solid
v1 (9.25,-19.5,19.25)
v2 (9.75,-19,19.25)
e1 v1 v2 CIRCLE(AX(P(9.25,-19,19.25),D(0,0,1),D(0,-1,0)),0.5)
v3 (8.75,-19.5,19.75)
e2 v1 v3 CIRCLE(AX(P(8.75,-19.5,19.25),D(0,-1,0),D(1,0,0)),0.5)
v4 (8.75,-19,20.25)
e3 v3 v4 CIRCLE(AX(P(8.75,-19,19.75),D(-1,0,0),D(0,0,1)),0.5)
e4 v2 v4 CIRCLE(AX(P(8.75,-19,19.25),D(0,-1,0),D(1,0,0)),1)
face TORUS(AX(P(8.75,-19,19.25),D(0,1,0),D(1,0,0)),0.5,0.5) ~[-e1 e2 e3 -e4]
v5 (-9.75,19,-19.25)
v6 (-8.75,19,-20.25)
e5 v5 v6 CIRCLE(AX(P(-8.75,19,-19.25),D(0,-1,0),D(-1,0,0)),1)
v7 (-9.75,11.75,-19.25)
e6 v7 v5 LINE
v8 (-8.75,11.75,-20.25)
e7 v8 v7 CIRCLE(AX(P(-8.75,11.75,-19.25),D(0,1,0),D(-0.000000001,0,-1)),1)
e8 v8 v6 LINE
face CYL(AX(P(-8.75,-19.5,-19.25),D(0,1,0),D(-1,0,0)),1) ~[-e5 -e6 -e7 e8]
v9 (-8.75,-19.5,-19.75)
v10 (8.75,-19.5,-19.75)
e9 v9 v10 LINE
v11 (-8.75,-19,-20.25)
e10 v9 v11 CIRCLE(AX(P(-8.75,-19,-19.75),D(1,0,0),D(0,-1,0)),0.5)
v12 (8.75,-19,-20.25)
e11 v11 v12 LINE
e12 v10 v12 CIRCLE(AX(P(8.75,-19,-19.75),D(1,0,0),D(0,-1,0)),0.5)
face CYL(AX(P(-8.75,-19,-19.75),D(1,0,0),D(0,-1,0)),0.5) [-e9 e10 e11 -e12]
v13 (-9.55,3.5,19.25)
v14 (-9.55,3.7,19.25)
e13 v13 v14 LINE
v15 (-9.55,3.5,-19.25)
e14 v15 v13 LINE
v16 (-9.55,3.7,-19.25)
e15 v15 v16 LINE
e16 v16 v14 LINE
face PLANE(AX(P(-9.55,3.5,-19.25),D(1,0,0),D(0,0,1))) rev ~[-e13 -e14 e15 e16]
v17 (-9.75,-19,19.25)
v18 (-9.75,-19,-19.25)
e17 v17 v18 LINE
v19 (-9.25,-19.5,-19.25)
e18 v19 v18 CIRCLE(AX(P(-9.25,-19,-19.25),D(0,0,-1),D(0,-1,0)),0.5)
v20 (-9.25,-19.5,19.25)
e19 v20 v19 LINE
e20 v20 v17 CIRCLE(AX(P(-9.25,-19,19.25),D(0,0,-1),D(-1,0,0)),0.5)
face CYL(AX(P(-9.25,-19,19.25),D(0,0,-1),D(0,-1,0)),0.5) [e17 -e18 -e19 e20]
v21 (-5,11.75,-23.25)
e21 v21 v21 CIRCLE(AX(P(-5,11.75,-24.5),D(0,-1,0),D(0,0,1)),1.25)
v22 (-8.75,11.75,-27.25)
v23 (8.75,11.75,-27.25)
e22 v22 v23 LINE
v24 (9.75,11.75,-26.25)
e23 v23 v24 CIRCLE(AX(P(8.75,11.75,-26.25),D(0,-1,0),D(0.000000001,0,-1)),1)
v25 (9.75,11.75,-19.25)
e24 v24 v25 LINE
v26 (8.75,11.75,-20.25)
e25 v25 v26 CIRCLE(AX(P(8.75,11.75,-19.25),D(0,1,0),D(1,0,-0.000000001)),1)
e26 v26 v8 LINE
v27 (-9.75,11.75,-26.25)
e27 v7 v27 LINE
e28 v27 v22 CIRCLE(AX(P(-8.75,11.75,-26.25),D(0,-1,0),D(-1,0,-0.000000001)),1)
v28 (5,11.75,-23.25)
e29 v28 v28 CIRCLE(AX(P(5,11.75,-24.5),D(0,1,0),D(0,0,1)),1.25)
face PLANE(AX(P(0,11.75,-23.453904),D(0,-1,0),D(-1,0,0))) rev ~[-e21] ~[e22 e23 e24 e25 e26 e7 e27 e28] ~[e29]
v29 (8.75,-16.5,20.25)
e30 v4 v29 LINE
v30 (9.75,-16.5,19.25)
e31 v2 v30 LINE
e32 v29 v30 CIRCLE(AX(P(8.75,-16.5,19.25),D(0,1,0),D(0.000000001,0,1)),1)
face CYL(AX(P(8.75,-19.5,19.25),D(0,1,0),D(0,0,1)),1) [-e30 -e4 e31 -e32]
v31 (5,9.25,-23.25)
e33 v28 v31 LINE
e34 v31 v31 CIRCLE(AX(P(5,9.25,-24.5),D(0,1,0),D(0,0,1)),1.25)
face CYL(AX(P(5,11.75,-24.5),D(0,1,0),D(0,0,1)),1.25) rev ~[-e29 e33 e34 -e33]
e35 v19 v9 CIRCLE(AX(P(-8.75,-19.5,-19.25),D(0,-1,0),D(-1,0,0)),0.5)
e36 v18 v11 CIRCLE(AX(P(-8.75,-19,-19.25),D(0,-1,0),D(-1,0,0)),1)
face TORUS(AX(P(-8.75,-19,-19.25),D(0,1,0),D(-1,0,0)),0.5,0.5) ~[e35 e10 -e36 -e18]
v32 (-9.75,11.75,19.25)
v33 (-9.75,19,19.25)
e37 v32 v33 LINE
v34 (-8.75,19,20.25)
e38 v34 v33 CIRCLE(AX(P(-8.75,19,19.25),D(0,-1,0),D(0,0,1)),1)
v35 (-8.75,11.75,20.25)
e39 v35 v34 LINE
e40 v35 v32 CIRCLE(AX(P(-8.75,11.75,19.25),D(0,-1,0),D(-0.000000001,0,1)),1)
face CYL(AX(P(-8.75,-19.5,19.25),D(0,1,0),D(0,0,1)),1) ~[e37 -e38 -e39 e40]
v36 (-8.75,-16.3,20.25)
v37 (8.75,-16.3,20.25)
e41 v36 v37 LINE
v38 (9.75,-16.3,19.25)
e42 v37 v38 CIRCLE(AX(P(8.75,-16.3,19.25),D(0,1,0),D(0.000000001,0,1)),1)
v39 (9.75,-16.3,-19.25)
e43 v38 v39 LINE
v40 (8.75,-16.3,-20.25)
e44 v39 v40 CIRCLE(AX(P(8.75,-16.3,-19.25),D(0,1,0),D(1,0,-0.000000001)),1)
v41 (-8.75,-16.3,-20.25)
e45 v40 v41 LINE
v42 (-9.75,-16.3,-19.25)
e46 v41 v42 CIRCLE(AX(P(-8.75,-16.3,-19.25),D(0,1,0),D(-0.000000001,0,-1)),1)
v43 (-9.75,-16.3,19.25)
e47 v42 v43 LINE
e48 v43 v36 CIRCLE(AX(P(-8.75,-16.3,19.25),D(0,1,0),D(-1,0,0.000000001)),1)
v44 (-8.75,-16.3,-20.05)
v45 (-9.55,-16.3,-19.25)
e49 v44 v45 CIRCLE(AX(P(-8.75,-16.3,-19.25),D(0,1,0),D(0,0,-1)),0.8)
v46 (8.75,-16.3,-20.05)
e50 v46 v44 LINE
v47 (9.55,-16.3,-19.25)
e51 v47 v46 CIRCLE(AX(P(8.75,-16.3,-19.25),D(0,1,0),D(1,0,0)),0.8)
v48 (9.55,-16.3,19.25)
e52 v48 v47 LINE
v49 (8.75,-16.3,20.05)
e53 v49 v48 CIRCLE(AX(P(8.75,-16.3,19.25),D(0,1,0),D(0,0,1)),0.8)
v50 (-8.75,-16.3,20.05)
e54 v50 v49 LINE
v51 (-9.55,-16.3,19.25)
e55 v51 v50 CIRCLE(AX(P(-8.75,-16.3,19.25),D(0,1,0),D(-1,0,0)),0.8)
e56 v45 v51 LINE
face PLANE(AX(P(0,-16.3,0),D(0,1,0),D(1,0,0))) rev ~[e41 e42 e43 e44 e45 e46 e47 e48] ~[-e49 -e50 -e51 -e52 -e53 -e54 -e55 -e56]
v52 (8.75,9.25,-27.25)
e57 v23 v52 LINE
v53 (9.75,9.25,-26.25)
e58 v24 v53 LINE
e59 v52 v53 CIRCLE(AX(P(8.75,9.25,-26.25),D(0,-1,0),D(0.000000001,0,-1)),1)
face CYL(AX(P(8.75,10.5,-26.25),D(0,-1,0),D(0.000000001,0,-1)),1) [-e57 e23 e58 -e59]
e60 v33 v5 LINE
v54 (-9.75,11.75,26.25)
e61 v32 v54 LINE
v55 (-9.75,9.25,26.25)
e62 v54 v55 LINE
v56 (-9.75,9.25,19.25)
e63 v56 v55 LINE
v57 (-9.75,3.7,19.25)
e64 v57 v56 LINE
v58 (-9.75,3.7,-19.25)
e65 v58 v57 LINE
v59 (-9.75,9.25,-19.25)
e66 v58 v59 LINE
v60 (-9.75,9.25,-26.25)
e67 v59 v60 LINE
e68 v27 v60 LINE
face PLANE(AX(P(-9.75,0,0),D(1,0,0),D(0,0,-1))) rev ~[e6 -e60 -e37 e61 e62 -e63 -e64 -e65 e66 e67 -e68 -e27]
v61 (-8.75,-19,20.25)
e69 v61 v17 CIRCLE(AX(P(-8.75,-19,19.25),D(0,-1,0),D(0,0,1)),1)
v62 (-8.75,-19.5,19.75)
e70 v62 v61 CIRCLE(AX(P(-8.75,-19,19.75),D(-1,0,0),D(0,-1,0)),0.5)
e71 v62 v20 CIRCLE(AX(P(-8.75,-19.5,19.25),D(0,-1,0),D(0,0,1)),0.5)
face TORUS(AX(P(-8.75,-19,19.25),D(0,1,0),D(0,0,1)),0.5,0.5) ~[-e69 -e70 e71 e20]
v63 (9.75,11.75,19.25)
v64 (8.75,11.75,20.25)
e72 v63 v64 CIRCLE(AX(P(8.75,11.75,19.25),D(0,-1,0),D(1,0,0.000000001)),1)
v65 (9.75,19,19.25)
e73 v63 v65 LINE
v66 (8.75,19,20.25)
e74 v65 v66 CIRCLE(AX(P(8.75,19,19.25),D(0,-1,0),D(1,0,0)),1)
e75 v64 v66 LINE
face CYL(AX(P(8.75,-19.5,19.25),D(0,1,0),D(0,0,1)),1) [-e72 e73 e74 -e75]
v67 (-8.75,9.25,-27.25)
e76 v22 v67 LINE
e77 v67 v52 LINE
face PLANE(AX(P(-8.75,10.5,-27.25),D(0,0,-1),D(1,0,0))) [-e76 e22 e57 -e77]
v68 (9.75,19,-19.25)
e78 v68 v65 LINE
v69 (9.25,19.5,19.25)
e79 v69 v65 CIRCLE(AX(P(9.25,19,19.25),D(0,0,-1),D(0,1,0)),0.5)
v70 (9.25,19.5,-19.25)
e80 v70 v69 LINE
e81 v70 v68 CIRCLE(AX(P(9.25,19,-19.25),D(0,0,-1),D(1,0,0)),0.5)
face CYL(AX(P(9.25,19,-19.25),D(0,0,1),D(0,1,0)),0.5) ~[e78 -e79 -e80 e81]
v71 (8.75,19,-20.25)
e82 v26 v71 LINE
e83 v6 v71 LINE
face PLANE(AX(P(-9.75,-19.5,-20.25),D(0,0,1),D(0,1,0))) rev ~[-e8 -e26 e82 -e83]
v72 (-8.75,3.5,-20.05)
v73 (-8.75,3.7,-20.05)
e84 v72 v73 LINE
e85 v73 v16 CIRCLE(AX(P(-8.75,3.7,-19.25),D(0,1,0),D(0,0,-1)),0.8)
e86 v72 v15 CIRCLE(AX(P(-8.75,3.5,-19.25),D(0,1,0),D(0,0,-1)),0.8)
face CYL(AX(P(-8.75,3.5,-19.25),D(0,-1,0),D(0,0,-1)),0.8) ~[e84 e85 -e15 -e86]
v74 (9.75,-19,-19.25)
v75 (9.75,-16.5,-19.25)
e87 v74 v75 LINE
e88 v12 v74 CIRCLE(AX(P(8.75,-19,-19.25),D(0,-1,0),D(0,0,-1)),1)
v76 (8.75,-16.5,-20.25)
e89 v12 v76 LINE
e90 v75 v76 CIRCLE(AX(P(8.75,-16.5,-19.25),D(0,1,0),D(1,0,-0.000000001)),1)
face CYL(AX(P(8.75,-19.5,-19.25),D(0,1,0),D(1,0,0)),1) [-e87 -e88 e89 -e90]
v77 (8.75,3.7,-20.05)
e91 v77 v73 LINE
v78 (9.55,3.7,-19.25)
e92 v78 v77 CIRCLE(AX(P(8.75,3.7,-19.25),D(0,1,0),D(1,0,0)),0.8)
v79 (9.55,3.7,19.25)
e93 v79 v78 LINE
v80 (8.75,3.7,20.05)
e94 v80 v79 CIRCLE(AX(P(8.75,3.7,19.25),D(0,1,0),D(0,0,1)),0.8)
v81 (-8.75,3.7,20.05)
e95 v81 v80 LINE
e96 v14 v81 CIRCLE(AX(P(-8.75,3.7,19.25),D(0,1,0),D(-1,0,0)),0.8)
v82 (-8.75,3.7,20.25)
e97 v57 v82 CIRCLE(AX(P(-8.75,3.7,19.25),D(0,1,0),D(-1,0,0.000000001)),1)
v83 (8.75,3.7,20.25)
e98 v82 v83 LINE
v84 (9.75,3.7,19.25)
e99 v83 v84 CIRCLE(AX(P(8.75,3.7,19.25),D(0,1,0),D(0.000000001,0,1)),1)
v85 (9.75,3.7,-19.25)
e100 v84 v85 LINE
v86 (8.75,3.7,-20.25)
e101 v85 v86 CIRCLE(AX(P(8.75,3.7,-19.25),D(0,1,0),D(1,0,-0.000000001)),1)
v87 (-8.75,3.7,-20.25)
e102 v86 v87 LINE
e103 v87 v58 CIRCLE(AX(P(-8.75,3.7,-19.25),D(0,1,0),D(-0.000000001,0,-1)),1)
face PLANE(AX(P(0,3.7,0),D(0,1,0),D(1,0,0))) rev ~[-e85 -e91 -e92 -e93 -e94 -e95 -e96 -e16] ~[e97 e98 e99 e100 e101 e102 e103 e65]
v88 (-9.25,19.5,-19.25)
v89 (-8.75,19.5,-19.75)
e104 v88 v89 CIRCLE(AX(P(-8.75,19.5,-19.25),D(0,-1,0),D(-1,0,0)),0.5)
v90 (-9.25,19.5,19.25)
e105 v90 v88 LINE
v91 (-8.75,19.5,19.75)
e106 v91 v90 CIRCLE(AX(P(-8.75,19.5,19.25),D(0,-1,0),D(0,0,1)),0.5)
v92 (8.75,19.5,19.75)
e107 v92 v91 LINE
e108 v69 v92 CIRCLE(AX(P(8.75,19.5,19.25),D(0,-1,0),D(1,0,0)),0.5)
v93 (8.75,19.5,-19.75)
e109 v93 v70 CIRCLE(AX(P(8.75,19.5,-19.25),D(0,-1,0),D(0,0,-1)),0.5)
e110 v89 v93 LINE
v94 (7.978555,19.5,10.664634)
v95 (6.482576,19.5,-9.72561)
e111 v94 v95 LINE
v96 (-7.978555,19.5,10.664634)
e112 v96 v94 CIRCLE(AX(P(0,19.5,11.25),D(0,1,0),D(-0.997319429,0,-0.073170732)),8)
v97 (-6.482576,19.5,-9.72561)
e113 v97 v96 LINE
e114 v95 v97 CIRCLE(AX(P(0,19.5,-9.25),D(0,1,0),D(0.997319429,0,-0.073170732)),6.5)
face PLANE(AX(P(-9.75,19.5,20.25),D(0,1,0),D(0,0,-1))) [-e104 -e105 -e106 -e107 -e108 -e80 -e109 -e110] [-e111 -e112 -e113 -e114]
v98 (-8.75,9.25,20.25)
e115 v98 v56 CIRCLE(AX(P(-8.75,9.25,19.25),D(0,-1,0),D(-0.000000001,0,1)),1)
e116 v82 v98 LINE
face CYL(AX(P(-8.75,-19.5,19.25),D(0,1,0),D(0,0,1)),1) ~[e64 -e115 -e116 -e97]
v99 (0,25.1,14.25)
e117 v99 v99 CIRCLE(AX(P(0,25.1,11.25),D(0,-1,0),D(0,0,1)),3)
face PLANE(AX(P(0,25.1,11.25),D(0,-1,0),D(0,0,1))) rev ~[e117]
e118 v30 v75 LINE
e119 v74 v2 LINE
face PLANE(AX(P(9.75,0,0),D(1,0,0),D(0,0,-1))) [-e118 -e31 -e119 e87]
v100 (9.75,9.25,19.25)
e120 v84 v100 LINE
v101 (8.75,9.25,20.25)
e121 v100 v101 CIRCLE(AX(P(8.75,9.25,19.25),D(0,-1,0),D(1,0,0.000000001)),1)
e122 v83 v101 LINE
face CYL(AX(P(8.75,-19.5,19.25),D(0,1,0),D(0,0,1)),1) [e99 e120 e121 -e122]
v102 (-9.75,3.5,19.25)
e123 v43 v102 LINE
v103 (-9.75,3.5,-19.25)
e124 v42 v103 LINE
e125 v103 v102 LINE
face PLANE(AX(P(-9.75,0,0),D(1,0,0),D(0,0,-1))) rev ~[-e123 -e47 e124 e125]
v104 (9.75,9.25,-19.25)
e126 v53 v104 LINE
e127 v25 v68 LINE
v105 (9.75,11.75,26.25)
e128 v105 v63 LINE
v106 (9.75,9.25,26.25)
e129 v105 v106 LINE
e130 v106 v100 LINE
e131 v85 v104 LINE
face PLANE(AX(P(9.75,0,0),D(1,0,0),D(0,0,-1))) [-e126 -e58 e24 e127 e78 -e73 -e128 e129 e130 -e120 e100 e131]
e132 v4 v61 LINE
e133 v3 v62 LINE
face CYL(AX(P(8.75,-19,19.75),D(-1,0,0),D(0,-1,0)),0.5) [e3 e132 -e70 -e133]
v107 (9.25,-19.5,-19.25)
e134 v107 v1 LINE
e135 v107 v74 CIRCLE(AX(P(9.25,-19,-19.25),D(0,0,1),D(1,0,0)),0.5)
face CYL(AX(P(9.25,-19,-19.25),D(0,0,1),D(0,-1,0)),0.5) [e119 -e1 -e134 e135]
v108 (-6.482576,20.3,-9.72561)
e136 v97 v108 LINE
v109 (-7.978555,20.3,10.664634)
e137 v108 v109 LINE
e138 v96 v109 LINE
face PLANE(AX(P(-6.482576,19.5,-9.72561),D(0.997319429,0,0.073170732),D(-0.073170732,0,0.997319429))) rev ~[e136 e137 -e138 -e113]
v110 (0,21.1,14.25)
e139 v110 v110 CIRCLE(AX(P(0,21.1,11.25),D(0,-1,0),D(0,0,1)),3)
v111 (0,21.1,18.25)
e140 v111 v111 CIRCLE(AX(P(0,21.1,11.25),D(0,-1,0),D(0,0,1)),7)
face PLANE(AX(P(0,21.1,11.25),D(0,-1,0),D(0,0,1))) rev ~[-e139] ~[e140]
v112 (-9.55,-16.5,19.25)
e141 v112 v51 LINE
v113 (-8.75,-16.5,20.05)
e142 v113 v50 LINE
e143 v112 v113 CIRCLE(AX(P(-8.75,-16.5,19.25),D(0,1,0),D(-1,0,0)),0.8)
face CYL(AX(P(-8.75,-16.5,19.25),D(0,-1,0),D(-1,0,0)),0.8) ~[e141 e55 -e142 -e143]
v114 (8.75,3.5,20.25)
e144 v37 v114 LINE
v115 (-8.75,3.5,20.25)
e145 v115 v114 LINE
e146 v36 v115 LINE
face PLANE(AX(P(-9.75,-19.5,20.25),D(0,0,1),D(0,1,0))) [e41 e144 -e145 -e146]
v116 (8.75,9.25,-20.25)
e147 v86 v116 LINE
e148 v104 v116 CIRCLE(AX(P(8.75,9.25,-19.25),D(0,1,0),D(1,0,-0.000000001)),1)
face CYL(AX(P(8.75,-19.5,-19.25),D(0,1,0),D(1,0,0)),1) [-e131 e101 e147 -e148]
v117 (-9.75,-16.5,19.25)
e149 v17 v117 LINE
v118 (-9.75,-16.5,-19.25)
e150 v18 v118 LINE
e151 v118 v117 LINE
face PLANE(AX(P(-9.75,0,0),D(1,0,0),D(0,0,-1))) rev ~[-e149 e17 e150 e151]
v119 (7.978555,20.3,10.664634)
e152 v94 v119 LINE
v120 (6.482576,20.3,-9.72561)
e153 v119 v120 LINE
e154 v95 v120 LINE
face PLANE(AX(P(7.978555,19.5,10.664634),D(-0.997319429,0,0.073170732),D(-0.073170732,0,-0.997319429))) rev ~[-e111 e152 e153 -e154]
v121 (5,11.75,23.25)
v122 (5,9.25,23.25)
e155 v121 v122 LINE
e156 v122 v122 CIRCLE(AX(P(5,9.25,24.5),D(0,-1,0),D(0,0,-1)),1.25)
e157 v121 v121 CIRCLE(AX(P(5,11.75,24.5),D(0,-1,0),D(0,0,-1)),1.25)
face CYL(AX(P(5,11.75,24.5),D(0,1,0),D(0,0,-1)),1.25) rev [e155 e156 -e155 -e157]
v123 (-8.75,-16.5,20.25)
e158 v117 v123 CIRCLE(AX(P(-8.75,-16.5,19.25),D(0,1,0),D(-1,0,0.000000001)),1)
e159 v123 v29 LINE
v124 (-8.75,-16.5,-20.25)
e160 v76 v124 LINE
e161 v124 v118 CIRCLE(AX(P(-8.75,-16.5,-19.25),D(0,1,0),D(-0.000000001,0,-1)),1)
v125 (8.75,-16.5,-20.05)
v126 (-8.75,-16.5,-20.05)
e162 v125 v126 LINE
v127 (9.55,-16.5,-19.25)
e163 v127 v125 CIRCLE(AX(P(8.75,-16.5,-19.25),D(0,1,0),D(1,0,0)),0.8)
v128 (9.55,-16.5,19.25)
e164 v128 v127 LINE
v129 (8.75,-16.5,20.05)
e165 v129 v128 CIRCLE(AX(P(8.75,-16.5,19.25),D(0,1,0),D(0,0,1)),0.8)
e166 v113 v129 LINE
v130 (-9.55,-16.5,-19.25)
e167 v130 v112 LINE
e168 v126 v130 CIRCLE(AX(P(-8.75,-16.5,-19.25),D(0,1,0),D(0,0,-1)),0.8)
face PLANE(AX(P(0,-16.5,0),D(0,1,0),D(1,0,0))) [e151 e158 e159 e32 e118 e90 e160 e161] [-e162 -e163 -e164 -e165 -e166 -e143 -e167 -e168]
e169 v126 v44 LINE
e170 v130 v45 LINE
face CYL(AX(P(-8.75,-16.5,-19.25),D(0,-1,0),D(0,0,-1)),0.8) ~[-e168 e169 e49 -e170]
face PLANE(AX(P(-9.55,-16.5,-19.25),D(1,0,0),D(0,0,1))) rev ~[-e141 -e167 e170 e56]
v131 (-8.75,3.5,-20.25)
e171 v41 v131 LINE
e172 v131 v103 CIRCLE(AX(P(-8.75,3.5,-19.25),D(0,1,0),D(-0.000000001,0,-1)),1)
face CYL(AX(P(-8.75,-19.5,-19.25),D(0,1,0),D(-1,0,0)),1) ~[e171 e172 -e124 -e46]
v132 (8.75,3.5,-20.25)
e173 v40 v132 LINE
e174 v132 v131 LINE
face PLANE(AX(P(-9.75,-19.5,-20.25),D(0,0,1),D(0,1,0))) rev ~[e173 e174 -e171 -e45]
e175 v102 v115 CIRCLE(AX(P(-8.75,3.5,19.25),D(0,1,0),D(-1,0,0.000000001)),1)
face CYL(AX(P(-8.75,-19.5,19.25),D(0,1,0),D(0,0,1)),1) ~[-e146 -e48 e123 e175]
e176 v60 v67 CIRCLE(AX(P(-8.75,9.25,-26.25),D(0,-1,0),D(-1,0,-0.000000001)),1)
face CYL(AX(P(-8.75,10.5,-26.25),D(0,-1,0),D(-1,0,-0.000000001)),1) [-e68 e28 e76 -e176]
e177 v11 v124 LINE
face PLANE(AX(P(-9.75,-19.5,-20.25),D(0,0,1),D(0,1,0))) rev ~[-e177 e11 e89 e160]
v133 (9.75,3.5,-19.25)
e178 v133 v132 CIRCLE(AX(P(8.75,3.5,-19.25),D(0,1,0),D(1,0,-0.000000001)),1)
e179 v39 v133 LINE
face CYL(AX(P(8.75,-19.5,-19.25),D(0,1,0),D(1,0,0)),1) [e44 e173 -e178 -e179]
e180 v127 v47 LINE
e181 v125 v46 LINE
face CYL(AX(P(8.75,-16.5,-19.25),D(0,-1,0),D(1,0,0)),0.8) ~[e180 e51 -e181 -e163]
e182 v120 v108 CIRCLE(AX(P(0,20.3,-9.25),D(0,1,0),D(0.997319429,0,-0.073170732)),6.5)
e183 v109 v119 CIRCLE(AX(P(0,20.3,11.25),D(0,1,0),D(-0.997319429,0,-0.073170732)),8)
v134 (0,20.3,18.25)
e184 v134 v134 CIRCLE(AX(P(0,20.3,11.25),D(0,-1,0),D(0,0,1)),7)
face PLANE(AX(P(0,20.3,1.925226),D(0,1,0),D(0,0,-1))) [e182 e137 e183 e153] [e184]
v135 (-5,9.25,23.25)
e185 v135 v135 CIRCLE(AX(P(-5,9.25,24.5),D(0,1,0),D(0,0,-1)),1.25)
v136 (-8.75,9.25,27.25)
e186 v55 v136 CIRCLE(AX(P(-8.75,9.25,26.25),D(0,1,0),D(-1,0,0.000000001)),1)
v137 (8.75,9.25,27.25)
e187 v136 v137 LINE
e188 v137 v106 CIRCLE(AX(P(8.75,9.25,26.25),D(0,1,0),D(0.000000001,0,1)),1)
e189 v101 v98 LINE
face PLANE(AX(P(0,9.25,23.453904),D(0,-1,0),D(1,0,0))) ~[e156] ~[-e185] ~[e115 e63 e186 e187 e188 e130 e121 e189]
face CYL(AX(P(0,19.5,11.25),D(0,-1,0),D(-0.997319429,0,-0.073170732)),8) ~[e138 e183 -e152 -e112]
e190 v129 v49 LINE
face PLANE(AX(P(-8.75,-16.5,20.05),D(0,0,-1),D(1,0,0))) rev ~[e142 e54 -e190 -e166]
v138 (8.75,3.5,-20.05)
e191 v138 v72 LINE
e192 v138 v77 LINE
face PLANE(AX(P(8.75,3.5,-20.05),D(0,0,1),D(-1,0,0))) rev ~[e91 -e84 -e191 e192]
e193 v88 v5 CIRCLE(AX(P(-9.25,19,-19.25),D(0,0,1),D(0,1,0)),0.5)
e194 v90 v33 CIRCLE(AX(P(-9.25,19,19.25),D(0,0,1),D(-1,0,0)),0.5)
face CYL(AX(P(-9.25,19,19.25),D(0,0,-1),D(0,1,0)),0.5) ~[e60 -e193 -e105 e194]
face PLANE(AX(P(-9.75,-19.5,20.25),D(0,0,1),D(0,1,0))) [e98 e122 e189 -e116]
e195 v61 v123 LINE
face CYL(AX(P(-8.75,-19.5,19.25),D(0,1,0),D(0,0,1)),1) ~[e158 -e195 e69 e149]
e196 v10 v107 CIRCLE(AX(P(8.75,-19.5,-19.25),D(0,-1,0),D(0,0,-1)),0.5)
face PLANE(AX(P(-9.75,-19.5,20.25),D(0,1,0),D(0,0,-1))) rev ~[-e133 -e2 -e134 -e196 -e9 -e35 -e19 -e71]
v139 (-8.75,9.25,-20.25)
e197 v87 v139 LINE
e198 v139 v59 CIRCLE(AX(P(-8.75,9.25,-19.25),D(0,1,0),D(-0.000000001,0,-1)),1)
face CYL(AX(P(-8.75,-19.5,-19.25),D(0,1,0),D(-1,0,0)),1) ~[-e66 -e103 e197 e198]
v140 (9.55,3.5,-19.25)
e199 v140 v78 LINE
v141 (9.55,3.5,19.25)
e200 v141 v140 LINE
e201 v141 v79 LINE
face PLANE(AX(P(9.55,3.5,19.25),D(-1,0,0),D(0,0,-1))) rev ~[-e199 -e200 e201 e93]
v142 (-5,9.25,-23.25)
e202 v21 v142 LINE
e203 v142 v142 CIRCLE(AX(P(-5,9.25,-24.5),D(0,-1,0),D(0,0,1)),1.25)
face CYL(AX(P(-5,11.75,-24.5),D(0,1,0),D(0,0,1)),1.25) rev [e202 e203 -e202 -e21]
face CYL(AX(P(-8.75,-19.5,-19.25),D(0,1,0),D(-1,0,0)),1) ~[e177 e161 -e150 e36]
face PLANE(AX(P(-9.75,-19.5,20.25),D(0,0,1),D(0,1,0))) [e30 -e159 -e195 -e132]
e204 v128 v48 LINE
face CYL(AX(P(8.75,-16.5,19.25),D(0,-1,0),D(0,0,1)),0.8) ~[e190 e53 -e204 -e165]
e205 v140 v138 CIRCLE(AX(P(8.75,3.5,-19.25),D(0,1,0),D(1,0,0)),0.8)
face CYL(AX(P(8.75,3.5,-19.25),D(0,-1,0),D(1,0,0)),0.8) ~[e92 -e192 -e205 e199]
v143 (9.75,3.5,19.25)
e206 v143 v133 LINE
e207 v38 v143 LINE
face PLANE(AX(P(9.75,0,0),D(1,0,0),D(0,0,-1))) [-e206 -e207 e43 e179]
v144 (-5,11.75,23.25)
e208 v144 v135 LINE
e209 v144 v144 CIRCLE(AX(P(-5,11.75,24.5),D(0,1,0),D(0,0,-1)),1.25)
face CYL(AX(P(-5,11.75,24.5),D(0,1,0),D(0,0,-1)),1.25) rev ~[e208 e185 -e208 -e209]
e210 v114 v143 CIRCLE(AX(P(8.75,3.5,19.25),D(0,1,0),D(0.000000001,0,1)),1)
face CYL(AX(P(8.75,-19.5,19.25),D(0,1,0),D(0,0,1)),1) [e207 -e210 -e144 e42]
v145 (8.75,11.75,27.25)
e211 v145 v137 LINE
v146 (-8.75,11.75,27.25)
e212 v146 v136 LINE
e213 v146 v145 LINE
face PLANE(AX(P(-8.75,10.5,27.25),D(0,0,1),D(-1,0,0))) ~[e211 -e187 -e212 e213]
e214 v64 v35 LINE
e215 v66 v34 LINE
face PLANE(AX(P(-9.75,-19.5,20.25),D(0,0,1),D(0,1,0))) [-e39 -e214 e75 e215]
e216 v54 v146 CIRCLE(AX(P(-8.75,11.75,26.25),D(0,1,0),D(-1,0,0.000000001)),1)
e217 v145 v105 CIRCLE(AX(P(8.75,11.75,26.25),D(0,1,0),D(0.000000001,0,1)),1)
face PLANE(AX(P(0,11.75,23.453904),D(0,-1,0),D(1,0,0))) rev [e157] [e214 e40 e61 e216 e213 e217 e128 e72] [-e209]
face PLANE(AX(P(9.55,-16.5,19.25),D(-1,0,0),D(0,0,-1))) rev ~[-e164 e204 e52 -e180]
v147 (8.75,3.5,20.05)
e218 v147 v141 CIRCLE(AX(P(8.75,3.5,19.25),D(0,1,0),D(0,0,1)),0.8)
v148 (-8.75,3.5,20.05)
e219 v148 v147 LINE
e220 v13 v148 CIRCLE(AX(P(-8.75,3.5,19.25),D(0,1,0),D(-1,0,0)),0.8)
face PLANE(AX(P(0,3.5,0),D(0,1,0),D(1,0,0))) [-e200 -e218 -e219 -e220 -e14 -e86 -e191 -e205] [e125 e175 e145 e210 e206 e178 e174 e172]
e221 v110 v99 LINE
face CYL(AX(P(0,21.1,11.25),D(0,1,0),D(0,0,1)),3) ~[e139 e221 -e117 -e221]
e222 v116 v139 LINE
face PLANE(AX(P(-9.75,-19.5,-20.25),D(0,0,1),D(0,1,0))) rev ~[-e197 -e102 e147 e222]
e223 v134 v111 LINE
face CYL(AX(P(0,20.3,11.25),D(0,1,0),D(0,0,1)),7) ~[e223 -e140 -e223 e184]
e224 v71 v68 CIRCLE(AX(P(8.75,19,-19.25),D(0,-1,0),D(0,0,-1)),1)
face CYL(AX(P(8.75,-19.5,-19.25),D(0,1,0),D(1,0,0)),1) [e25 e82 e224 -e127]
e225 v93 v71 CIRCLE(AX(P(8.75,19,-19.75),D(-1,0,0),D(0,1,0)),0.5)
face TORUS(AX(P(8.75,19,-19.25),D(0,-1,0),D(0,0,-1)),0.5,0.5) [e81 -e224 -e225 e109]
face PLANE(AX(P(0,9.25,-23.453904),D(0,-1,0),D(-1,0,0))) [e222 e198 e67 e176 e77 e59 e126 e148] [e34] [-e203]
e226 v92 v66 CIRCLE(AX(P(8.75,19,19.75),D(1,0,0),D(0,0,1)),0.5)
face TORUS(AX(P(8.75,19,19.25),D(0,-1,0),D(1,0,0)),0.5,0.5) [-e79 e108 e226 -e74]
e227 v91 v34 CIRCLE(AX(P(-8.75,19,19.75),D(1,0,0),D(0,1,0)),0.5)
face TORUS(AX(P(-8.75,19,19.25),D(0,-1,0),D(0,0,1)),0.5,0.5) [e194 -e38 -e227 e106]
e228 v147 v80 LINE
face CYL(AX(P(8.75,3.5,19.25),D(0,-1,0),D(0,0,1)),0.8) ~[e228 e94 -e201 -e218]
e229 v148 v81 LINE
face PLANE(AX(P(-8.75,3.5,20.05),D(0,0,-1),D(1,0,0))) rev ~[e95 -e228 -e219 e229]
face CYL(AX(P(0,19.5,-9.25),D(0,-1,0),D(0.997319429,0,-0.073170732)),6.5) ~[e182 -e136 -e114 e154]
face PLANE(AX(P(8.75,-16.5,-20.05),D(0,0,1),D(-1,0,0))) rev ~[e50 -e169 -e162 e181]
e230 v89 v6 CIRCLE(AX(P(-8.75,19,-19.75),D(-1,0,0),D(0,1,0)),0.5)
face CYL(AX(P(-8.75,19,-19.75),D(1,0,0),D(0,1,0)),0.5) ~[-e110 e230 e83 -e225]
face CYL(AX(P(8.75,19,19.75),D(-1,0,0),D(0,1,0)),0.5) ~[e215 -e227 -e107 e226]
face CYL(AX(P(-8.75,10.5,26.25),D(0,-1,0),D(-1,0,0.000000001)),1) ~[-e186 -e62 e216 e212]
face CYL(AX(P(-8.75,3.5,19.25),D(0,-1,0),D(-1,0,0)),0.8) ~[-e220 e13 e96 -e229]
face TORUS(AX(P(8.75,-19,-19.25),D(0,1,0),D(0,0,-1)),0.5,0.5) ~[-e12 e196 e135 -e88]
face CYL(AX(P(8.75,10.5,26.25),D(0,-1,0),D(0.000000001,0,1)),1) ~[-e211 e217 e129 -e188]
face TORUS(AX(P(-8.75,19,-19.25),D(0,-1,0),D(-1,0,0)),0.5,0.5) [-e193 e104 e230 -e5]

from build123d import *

# Parameters (mm, degrees)
BOSS_EXTRU_1_DEPTH        = 9.75
BOSS_EXTRU_1_DEPTH_BACK   = 9.75
ESQUISSE1_W               = 40.5
ESQUISSE1_H               = 39
BOSS_EXTRU_2_DEPTH        = 0.8
CONG_6_R                  = 1
CONG_3_R                  = 0.5
ENL_V_MAT_EXTRU_3_DEPTH   = 0.2
ENL_V_MAT_EXTRU_2_DEPTH   = 0.2
BOSS_EXTRU_3_DEPTH        = 1.25
ENL_V_MAT_EXTRU_4_REACH   = 44.593
ESQUISSE10_R              = 1.25
SYM_TRIE3_COPY_1_REACH    = 44.593
SYM_TRIE3_COPY_1_SKETCH_R = 1.25
SYM_TRIE3_COPY_2_REACH    = 44.593
SYM_TRIE3_COPY_2_SKETCH_R = 1.25


with BuildPart() as part:
    # Esquisse1 → Boss.-Extru.1 (new, two sides: drawn at the far end of the back side and taken through both)
    with BuildSketch(Plane(origin=(0, 0, 0), x_dir=(0, 0, -1), z_dir=(1, 0, 0)).offset(-BOSS_EXTRU_1_DEPTH_BACK)):
        Rectangle(ESQUISSE1_W, ESQUISSE1_H)
    extrude(amount=BOSS_EXTRU_1_DEPTH + BOSS_EXTRU_1_DEPTH_BACK)

    # Esquisse2 → Boss.-Extru.2 (add)
    with BuildSketch(Plane(origin=(13.65, 19.5, 0), x_dir=(0, 0, -1), z_dir=(0, 1, 0))):
        with BuildLine():
            Line((9.725609756, 20.13257629), (-10.664634146, 21.628555434))
            ThreePointArc((-10.664634146, 21.628555434), (-19.25, 13.65), (-10.664634146, 5.671444566))
            Line((-10.664634146, 5.671444566), (9.725609756, 7.16742371))
            ThreePointArc((9.725609756, 7.16742371), (15.75, 13.65), (9.725609756, 20.13257629))
        make_face()
    extrude(amount=BOSS_EXTRU_2_DEPTH)

    # Esquisse3 → Révolution1 (revolve)
    with BuildSketch(Plane(origin=(0, 0, 0), x_dir=(0, 0, -1), z_dir=(1, 0, 0))):
        Polygon((-4.25, 20.3), (-4.25, 21.1), (-8.25, 21.1), (-8.25, 25.1), (-11.25, 25.1), (-11.25, 20.3), align=None)
    revolve(axis=Axis((0, 19.890028941, 11.25), (0, -1, 0)))

    # Congé6
    cong_6_edges = [part.edges().sort_by_distance(p)[0] for p in [
        (9.75, 0, 20.25),
        (9.75, 0, -20.25),
        (-9.75, 0, 20.25),
        (-9.75, 0, -20.25),
    ]]
    fillet(cong_6_edges, radius=CONG_6_R)

    # Congé3
    cong_3_edges = [part.edges().sort_by_distance(p)[0] for p in [
        (0, -19.5, -20.25),
        (-9.75, -19.5, 0),
        (0, -19.5, 20.25),
        (9.75, -19.5, 0),
        (-9.75, 19.5, 0),
        (0, 19.5, 20.25),
        (9.75, 19.5, 0),
        (0, 19.5, -20.25),
        (9.457106781, -19.5, -19.957106781),
        (-9.457106781, -19.5, -19.957106781),
        (-9.457106781, -19.5, 19.957106781),
        (9.457106781, -19.5, 19.957106781),
        (-9.457106781, 19.5, -19.957106781),
        (-9.457106781, 19.5, 19.957106781),
        (9.457106781, 19.5, 19.957106781),
        (9.457106781, 19.5, -19.957106781),
    ]]
    fillet(cong_3_edges, radius=CONG_3_R)

    # Esquisse7 → Enlèv. mat.-Extru.3 (cut)
    with BuildSketch(Plane(origin=(0, -16.5, 0), x_dir=(-1, 0, 0), z_dir=(0, -1, 0))):
        with BuildLine():
            Line((8.75, -20.25), (-8.75, -20.25))
            ThreePointArc((-8.75, -20.25), (-9.457106781, -19.957106781), (-9.75, -19.25))
            Line((-9.75, -19.25), (-9.75, 19.25))
            ThreePointArc((-9.75, 19.25), (-9.457106781, 19.957106781), (-8.75, 20.25))
            Line((-8.75, 20.25), (8.75, 20.25))
            ThreePointArc((8.75, 20.25), (9.457106781, 19.957106781), (9.75, 19.25))
            Line((9.75, 19.25), (9.75, -19.25))
            ThreePointArc((9.75, -19.25), (9.457106781, -19.957106781), (8.75, -20.25))
        make_face()
        with BuildLine():
            Line((8.75, -20.05), (-8.75, -20.05))
            ThreePointArc((-8.75, -20.05), (-9.315685425, -19.815685425), (-9.55, -19.25))
            Line((-9.55, -19.25), (-9.55, 19.25))
            ThreePointArc((-9.55, 19.25), (-9.315685425, 19.815685425), (-8.75, 20.05))
            Line((-8.75, 20.05), (8.75, 20.05))
            ThreePointArc((8.75, 20.05), (9.315685425, 19.815685425), (9.55, 19.25))
            Line((9.55, 19.25), (9.55, -19.25))
            ThreePointArc((9.55, -19.25), (9.315685425, -19.815685425), (8.75, -20.05))
        make_face(mode=Mode.SUBTRACT)
    extrude(amount=-ENL_V_MAT_EXTRU_3_DEPTH, mode=Mode.SUBTRACT)

    # Esquisse6 → Enlèv. mat.-Extru.2 (cut)
    with BuildSketch(Plane(origin=(0, 3.5, 0), x_dir=(-1, 0, 0), z_dir=(0, -1, 0))):
        with BuildLine():
            Line((8.75, -20.25), (-8.75, -20.25))
            ThreePointArc((-8.75, -20.25), (-9.457106781, -19.957106781), (-9.75, -19.25))
            Line((-9.75, -19.25), (-9.75, 19.25))
            ThreePointArc((-9.75, 19.25), (-9.457106781, 19.957106781), (-8.75, 20.25))
            Line((-8.75, 20.25), (8.75, 20.25))
            ThreePointArc((8.75, 20.25), (9.457106781, 19.957106781), (9.75, 19.25))
            Line((9.75, 19.25), (9.75, -19.25))
            ThreePointArc((9.75, -19.25), (9.457106781, -19.957106781), (8.75, -20.25))
        make_face()
        with BuildLine():
            Line((8.75, -20.05), (-8.75, -20.05))
            ThreePointArc((-8.75, -20.05), (-9.315685425, -19.815685425), (-9.55, -19.25))
            Line((-9.55, -19.25), (-9.55, 19.25))
            ThreePointArc((-9.55, 19.25), (-9.315685425, 19.815685425), (-8.75, 20.05))
            Line((-8.75, 20.05), (8.75, 20.05))
            ThreePointArc((8.75, 20.05), (9.315685425, 19.815685425), (9.55, 19.25))
            Line((9.55, 19.25), (9.55, -19.25))
            ThreePointArc((9.55, -19.25), (9.315685425, -19.815685425), (8.75, -20.05))
        make_face(mode=Mode.SUBTRACT)
    extrude(amount=-ENL_V_MAT_EXTRU_2_DEPTH, mode=Mode.SUBTRACT)

    # Esquisse8 → Boss.-Extru.3 (add, symmetric)
    with BuildSketch(Plane(origin=(0, 10.5, 0), x_dir=(-1, 0, 0), z_dir=(0, -1, 0))):
        with BuildLine():
            Line((9.75, 19.25), (9.75, 26.25))
            ThreePointArc((9.75, 26.25), (9.457106781, 26.957106781), (8.75, 27.25))
            Line((8.75, 27.25), (-8.75, 27.25))
            ThreePointArc((-8.75, 27.25), (-9.457106781, 26.957106781), (-9.75, 26.25))
            Line((-9.75, 26.25), (-9.75, 19.25))
            ThreePointArc((-9.75, 19.25), (-9.457106781, 19.957106781), (-8.75, 20.25))
            Line((-8.75, 20.25), (8.75, 20.25))
            ThreePointArc((8.75, 20.25), (9.457106781, 19.957106781), (9.75, 19.25))
        make_face()
    boss_extru_3 = extrude(amount=BOSS_EXTRU_3_DEPTH, both=True)

    # Esquisse10 → Enlèv. mat.-Extru.4 (cut, up to next)
    with BuildSketch(Plane(origin=(0, 11.75, 0), x_dir=(1, 0, 0), z_dir=(0, 1, 0)), mode=Mode.PRIVATE) as enl_v_mat_extru_4_sk1:
        with Locations((5, 24.5)):
            Circle(ESQUISSE10_R)
    enl_v_mat_extru_4_tool1 = extrude(enl_v_mat_extru_4_sk1.sketch, amount=-ENL_V_MAT_EXTRU_4_REACH, mode=Mode.PRIVATE) & part.part
    enl_v_mat_extru_4 = enl_v_mat_extru_4_tool1.solids().sort_by_distance((5, 11.75, -24.5))[0]
    add(enl_v_mat_extru_4, mode=Mode.SUBTRACT)

    # Symétrie1: Boss.-Extru.3 across plane
    add(boss_extru_3.mirror(Plane.XY))

    # Symétrie2: Enlèv. mat.-Extru.4 across plane
    add(enl_v_mat_extru_4.mirror(Plane(origin=(0, 0, 0), x_dir=(0, 0, 1), z_dir=(1, 0, 0))), mode=Mode.SUBTRACT)

    # Symétrie3 copy 1 sketch → Symétrie3 copy 1 (cut, up to next)
    with BuildSketch(Plane(origin=(0, 11.75, 0), x_dir=(-1, 0, 0), z_dir=(0, 1, 0)), mode=Mode.PRIVATE) as sym_trie3_copy_1_sk1:
        with Locations((5, 24.5)):
            Circle(SYM_TRIE3_COPY_1_SKETCH_R)
    sym_trie3_copy_1_tool1 = extrude(sym_trie3_copy_1_sk1.sketch, amount=-SYM_TRIE3_COPY_1_REACH, mode=Mode.PRIVATE) & part.part
    add(sym_trie3_copy_1_tool1.solids().sort_by_distance((-5, 11.75, 24.5))[0], mode=Mode.SUBTRACT)

    # Symétrie3 copy 2 sketch → Symétrie3 copy 2 (cut, up to next)
    with BuildSketch(Plane(origin=(0, 11.75, 0), x_dir=(1, 0, 0), z_dir=(0, 1, 0)), mode=Mode.PRIVATE) as sym_trie3_copy_2_sk1:
        with Locations((5, -24.5)):
            Circle(SYM_TRIE3_COPY_2_SKETCH_R)
    sym_trie3_copy_2_tool1 = extrude(sym_trie3_copy_2_sk1.sketch, amount=-SYM_TRIE3_COPY_2_REACH, mode=Mode.PRIVATE) & part.part
    add(sym_trie3_copy_2_tool1.solids().sort_by_distance((5, 11.75, 24.5))[0], mode=Mode.SUBTRACT)


solid = part.part
